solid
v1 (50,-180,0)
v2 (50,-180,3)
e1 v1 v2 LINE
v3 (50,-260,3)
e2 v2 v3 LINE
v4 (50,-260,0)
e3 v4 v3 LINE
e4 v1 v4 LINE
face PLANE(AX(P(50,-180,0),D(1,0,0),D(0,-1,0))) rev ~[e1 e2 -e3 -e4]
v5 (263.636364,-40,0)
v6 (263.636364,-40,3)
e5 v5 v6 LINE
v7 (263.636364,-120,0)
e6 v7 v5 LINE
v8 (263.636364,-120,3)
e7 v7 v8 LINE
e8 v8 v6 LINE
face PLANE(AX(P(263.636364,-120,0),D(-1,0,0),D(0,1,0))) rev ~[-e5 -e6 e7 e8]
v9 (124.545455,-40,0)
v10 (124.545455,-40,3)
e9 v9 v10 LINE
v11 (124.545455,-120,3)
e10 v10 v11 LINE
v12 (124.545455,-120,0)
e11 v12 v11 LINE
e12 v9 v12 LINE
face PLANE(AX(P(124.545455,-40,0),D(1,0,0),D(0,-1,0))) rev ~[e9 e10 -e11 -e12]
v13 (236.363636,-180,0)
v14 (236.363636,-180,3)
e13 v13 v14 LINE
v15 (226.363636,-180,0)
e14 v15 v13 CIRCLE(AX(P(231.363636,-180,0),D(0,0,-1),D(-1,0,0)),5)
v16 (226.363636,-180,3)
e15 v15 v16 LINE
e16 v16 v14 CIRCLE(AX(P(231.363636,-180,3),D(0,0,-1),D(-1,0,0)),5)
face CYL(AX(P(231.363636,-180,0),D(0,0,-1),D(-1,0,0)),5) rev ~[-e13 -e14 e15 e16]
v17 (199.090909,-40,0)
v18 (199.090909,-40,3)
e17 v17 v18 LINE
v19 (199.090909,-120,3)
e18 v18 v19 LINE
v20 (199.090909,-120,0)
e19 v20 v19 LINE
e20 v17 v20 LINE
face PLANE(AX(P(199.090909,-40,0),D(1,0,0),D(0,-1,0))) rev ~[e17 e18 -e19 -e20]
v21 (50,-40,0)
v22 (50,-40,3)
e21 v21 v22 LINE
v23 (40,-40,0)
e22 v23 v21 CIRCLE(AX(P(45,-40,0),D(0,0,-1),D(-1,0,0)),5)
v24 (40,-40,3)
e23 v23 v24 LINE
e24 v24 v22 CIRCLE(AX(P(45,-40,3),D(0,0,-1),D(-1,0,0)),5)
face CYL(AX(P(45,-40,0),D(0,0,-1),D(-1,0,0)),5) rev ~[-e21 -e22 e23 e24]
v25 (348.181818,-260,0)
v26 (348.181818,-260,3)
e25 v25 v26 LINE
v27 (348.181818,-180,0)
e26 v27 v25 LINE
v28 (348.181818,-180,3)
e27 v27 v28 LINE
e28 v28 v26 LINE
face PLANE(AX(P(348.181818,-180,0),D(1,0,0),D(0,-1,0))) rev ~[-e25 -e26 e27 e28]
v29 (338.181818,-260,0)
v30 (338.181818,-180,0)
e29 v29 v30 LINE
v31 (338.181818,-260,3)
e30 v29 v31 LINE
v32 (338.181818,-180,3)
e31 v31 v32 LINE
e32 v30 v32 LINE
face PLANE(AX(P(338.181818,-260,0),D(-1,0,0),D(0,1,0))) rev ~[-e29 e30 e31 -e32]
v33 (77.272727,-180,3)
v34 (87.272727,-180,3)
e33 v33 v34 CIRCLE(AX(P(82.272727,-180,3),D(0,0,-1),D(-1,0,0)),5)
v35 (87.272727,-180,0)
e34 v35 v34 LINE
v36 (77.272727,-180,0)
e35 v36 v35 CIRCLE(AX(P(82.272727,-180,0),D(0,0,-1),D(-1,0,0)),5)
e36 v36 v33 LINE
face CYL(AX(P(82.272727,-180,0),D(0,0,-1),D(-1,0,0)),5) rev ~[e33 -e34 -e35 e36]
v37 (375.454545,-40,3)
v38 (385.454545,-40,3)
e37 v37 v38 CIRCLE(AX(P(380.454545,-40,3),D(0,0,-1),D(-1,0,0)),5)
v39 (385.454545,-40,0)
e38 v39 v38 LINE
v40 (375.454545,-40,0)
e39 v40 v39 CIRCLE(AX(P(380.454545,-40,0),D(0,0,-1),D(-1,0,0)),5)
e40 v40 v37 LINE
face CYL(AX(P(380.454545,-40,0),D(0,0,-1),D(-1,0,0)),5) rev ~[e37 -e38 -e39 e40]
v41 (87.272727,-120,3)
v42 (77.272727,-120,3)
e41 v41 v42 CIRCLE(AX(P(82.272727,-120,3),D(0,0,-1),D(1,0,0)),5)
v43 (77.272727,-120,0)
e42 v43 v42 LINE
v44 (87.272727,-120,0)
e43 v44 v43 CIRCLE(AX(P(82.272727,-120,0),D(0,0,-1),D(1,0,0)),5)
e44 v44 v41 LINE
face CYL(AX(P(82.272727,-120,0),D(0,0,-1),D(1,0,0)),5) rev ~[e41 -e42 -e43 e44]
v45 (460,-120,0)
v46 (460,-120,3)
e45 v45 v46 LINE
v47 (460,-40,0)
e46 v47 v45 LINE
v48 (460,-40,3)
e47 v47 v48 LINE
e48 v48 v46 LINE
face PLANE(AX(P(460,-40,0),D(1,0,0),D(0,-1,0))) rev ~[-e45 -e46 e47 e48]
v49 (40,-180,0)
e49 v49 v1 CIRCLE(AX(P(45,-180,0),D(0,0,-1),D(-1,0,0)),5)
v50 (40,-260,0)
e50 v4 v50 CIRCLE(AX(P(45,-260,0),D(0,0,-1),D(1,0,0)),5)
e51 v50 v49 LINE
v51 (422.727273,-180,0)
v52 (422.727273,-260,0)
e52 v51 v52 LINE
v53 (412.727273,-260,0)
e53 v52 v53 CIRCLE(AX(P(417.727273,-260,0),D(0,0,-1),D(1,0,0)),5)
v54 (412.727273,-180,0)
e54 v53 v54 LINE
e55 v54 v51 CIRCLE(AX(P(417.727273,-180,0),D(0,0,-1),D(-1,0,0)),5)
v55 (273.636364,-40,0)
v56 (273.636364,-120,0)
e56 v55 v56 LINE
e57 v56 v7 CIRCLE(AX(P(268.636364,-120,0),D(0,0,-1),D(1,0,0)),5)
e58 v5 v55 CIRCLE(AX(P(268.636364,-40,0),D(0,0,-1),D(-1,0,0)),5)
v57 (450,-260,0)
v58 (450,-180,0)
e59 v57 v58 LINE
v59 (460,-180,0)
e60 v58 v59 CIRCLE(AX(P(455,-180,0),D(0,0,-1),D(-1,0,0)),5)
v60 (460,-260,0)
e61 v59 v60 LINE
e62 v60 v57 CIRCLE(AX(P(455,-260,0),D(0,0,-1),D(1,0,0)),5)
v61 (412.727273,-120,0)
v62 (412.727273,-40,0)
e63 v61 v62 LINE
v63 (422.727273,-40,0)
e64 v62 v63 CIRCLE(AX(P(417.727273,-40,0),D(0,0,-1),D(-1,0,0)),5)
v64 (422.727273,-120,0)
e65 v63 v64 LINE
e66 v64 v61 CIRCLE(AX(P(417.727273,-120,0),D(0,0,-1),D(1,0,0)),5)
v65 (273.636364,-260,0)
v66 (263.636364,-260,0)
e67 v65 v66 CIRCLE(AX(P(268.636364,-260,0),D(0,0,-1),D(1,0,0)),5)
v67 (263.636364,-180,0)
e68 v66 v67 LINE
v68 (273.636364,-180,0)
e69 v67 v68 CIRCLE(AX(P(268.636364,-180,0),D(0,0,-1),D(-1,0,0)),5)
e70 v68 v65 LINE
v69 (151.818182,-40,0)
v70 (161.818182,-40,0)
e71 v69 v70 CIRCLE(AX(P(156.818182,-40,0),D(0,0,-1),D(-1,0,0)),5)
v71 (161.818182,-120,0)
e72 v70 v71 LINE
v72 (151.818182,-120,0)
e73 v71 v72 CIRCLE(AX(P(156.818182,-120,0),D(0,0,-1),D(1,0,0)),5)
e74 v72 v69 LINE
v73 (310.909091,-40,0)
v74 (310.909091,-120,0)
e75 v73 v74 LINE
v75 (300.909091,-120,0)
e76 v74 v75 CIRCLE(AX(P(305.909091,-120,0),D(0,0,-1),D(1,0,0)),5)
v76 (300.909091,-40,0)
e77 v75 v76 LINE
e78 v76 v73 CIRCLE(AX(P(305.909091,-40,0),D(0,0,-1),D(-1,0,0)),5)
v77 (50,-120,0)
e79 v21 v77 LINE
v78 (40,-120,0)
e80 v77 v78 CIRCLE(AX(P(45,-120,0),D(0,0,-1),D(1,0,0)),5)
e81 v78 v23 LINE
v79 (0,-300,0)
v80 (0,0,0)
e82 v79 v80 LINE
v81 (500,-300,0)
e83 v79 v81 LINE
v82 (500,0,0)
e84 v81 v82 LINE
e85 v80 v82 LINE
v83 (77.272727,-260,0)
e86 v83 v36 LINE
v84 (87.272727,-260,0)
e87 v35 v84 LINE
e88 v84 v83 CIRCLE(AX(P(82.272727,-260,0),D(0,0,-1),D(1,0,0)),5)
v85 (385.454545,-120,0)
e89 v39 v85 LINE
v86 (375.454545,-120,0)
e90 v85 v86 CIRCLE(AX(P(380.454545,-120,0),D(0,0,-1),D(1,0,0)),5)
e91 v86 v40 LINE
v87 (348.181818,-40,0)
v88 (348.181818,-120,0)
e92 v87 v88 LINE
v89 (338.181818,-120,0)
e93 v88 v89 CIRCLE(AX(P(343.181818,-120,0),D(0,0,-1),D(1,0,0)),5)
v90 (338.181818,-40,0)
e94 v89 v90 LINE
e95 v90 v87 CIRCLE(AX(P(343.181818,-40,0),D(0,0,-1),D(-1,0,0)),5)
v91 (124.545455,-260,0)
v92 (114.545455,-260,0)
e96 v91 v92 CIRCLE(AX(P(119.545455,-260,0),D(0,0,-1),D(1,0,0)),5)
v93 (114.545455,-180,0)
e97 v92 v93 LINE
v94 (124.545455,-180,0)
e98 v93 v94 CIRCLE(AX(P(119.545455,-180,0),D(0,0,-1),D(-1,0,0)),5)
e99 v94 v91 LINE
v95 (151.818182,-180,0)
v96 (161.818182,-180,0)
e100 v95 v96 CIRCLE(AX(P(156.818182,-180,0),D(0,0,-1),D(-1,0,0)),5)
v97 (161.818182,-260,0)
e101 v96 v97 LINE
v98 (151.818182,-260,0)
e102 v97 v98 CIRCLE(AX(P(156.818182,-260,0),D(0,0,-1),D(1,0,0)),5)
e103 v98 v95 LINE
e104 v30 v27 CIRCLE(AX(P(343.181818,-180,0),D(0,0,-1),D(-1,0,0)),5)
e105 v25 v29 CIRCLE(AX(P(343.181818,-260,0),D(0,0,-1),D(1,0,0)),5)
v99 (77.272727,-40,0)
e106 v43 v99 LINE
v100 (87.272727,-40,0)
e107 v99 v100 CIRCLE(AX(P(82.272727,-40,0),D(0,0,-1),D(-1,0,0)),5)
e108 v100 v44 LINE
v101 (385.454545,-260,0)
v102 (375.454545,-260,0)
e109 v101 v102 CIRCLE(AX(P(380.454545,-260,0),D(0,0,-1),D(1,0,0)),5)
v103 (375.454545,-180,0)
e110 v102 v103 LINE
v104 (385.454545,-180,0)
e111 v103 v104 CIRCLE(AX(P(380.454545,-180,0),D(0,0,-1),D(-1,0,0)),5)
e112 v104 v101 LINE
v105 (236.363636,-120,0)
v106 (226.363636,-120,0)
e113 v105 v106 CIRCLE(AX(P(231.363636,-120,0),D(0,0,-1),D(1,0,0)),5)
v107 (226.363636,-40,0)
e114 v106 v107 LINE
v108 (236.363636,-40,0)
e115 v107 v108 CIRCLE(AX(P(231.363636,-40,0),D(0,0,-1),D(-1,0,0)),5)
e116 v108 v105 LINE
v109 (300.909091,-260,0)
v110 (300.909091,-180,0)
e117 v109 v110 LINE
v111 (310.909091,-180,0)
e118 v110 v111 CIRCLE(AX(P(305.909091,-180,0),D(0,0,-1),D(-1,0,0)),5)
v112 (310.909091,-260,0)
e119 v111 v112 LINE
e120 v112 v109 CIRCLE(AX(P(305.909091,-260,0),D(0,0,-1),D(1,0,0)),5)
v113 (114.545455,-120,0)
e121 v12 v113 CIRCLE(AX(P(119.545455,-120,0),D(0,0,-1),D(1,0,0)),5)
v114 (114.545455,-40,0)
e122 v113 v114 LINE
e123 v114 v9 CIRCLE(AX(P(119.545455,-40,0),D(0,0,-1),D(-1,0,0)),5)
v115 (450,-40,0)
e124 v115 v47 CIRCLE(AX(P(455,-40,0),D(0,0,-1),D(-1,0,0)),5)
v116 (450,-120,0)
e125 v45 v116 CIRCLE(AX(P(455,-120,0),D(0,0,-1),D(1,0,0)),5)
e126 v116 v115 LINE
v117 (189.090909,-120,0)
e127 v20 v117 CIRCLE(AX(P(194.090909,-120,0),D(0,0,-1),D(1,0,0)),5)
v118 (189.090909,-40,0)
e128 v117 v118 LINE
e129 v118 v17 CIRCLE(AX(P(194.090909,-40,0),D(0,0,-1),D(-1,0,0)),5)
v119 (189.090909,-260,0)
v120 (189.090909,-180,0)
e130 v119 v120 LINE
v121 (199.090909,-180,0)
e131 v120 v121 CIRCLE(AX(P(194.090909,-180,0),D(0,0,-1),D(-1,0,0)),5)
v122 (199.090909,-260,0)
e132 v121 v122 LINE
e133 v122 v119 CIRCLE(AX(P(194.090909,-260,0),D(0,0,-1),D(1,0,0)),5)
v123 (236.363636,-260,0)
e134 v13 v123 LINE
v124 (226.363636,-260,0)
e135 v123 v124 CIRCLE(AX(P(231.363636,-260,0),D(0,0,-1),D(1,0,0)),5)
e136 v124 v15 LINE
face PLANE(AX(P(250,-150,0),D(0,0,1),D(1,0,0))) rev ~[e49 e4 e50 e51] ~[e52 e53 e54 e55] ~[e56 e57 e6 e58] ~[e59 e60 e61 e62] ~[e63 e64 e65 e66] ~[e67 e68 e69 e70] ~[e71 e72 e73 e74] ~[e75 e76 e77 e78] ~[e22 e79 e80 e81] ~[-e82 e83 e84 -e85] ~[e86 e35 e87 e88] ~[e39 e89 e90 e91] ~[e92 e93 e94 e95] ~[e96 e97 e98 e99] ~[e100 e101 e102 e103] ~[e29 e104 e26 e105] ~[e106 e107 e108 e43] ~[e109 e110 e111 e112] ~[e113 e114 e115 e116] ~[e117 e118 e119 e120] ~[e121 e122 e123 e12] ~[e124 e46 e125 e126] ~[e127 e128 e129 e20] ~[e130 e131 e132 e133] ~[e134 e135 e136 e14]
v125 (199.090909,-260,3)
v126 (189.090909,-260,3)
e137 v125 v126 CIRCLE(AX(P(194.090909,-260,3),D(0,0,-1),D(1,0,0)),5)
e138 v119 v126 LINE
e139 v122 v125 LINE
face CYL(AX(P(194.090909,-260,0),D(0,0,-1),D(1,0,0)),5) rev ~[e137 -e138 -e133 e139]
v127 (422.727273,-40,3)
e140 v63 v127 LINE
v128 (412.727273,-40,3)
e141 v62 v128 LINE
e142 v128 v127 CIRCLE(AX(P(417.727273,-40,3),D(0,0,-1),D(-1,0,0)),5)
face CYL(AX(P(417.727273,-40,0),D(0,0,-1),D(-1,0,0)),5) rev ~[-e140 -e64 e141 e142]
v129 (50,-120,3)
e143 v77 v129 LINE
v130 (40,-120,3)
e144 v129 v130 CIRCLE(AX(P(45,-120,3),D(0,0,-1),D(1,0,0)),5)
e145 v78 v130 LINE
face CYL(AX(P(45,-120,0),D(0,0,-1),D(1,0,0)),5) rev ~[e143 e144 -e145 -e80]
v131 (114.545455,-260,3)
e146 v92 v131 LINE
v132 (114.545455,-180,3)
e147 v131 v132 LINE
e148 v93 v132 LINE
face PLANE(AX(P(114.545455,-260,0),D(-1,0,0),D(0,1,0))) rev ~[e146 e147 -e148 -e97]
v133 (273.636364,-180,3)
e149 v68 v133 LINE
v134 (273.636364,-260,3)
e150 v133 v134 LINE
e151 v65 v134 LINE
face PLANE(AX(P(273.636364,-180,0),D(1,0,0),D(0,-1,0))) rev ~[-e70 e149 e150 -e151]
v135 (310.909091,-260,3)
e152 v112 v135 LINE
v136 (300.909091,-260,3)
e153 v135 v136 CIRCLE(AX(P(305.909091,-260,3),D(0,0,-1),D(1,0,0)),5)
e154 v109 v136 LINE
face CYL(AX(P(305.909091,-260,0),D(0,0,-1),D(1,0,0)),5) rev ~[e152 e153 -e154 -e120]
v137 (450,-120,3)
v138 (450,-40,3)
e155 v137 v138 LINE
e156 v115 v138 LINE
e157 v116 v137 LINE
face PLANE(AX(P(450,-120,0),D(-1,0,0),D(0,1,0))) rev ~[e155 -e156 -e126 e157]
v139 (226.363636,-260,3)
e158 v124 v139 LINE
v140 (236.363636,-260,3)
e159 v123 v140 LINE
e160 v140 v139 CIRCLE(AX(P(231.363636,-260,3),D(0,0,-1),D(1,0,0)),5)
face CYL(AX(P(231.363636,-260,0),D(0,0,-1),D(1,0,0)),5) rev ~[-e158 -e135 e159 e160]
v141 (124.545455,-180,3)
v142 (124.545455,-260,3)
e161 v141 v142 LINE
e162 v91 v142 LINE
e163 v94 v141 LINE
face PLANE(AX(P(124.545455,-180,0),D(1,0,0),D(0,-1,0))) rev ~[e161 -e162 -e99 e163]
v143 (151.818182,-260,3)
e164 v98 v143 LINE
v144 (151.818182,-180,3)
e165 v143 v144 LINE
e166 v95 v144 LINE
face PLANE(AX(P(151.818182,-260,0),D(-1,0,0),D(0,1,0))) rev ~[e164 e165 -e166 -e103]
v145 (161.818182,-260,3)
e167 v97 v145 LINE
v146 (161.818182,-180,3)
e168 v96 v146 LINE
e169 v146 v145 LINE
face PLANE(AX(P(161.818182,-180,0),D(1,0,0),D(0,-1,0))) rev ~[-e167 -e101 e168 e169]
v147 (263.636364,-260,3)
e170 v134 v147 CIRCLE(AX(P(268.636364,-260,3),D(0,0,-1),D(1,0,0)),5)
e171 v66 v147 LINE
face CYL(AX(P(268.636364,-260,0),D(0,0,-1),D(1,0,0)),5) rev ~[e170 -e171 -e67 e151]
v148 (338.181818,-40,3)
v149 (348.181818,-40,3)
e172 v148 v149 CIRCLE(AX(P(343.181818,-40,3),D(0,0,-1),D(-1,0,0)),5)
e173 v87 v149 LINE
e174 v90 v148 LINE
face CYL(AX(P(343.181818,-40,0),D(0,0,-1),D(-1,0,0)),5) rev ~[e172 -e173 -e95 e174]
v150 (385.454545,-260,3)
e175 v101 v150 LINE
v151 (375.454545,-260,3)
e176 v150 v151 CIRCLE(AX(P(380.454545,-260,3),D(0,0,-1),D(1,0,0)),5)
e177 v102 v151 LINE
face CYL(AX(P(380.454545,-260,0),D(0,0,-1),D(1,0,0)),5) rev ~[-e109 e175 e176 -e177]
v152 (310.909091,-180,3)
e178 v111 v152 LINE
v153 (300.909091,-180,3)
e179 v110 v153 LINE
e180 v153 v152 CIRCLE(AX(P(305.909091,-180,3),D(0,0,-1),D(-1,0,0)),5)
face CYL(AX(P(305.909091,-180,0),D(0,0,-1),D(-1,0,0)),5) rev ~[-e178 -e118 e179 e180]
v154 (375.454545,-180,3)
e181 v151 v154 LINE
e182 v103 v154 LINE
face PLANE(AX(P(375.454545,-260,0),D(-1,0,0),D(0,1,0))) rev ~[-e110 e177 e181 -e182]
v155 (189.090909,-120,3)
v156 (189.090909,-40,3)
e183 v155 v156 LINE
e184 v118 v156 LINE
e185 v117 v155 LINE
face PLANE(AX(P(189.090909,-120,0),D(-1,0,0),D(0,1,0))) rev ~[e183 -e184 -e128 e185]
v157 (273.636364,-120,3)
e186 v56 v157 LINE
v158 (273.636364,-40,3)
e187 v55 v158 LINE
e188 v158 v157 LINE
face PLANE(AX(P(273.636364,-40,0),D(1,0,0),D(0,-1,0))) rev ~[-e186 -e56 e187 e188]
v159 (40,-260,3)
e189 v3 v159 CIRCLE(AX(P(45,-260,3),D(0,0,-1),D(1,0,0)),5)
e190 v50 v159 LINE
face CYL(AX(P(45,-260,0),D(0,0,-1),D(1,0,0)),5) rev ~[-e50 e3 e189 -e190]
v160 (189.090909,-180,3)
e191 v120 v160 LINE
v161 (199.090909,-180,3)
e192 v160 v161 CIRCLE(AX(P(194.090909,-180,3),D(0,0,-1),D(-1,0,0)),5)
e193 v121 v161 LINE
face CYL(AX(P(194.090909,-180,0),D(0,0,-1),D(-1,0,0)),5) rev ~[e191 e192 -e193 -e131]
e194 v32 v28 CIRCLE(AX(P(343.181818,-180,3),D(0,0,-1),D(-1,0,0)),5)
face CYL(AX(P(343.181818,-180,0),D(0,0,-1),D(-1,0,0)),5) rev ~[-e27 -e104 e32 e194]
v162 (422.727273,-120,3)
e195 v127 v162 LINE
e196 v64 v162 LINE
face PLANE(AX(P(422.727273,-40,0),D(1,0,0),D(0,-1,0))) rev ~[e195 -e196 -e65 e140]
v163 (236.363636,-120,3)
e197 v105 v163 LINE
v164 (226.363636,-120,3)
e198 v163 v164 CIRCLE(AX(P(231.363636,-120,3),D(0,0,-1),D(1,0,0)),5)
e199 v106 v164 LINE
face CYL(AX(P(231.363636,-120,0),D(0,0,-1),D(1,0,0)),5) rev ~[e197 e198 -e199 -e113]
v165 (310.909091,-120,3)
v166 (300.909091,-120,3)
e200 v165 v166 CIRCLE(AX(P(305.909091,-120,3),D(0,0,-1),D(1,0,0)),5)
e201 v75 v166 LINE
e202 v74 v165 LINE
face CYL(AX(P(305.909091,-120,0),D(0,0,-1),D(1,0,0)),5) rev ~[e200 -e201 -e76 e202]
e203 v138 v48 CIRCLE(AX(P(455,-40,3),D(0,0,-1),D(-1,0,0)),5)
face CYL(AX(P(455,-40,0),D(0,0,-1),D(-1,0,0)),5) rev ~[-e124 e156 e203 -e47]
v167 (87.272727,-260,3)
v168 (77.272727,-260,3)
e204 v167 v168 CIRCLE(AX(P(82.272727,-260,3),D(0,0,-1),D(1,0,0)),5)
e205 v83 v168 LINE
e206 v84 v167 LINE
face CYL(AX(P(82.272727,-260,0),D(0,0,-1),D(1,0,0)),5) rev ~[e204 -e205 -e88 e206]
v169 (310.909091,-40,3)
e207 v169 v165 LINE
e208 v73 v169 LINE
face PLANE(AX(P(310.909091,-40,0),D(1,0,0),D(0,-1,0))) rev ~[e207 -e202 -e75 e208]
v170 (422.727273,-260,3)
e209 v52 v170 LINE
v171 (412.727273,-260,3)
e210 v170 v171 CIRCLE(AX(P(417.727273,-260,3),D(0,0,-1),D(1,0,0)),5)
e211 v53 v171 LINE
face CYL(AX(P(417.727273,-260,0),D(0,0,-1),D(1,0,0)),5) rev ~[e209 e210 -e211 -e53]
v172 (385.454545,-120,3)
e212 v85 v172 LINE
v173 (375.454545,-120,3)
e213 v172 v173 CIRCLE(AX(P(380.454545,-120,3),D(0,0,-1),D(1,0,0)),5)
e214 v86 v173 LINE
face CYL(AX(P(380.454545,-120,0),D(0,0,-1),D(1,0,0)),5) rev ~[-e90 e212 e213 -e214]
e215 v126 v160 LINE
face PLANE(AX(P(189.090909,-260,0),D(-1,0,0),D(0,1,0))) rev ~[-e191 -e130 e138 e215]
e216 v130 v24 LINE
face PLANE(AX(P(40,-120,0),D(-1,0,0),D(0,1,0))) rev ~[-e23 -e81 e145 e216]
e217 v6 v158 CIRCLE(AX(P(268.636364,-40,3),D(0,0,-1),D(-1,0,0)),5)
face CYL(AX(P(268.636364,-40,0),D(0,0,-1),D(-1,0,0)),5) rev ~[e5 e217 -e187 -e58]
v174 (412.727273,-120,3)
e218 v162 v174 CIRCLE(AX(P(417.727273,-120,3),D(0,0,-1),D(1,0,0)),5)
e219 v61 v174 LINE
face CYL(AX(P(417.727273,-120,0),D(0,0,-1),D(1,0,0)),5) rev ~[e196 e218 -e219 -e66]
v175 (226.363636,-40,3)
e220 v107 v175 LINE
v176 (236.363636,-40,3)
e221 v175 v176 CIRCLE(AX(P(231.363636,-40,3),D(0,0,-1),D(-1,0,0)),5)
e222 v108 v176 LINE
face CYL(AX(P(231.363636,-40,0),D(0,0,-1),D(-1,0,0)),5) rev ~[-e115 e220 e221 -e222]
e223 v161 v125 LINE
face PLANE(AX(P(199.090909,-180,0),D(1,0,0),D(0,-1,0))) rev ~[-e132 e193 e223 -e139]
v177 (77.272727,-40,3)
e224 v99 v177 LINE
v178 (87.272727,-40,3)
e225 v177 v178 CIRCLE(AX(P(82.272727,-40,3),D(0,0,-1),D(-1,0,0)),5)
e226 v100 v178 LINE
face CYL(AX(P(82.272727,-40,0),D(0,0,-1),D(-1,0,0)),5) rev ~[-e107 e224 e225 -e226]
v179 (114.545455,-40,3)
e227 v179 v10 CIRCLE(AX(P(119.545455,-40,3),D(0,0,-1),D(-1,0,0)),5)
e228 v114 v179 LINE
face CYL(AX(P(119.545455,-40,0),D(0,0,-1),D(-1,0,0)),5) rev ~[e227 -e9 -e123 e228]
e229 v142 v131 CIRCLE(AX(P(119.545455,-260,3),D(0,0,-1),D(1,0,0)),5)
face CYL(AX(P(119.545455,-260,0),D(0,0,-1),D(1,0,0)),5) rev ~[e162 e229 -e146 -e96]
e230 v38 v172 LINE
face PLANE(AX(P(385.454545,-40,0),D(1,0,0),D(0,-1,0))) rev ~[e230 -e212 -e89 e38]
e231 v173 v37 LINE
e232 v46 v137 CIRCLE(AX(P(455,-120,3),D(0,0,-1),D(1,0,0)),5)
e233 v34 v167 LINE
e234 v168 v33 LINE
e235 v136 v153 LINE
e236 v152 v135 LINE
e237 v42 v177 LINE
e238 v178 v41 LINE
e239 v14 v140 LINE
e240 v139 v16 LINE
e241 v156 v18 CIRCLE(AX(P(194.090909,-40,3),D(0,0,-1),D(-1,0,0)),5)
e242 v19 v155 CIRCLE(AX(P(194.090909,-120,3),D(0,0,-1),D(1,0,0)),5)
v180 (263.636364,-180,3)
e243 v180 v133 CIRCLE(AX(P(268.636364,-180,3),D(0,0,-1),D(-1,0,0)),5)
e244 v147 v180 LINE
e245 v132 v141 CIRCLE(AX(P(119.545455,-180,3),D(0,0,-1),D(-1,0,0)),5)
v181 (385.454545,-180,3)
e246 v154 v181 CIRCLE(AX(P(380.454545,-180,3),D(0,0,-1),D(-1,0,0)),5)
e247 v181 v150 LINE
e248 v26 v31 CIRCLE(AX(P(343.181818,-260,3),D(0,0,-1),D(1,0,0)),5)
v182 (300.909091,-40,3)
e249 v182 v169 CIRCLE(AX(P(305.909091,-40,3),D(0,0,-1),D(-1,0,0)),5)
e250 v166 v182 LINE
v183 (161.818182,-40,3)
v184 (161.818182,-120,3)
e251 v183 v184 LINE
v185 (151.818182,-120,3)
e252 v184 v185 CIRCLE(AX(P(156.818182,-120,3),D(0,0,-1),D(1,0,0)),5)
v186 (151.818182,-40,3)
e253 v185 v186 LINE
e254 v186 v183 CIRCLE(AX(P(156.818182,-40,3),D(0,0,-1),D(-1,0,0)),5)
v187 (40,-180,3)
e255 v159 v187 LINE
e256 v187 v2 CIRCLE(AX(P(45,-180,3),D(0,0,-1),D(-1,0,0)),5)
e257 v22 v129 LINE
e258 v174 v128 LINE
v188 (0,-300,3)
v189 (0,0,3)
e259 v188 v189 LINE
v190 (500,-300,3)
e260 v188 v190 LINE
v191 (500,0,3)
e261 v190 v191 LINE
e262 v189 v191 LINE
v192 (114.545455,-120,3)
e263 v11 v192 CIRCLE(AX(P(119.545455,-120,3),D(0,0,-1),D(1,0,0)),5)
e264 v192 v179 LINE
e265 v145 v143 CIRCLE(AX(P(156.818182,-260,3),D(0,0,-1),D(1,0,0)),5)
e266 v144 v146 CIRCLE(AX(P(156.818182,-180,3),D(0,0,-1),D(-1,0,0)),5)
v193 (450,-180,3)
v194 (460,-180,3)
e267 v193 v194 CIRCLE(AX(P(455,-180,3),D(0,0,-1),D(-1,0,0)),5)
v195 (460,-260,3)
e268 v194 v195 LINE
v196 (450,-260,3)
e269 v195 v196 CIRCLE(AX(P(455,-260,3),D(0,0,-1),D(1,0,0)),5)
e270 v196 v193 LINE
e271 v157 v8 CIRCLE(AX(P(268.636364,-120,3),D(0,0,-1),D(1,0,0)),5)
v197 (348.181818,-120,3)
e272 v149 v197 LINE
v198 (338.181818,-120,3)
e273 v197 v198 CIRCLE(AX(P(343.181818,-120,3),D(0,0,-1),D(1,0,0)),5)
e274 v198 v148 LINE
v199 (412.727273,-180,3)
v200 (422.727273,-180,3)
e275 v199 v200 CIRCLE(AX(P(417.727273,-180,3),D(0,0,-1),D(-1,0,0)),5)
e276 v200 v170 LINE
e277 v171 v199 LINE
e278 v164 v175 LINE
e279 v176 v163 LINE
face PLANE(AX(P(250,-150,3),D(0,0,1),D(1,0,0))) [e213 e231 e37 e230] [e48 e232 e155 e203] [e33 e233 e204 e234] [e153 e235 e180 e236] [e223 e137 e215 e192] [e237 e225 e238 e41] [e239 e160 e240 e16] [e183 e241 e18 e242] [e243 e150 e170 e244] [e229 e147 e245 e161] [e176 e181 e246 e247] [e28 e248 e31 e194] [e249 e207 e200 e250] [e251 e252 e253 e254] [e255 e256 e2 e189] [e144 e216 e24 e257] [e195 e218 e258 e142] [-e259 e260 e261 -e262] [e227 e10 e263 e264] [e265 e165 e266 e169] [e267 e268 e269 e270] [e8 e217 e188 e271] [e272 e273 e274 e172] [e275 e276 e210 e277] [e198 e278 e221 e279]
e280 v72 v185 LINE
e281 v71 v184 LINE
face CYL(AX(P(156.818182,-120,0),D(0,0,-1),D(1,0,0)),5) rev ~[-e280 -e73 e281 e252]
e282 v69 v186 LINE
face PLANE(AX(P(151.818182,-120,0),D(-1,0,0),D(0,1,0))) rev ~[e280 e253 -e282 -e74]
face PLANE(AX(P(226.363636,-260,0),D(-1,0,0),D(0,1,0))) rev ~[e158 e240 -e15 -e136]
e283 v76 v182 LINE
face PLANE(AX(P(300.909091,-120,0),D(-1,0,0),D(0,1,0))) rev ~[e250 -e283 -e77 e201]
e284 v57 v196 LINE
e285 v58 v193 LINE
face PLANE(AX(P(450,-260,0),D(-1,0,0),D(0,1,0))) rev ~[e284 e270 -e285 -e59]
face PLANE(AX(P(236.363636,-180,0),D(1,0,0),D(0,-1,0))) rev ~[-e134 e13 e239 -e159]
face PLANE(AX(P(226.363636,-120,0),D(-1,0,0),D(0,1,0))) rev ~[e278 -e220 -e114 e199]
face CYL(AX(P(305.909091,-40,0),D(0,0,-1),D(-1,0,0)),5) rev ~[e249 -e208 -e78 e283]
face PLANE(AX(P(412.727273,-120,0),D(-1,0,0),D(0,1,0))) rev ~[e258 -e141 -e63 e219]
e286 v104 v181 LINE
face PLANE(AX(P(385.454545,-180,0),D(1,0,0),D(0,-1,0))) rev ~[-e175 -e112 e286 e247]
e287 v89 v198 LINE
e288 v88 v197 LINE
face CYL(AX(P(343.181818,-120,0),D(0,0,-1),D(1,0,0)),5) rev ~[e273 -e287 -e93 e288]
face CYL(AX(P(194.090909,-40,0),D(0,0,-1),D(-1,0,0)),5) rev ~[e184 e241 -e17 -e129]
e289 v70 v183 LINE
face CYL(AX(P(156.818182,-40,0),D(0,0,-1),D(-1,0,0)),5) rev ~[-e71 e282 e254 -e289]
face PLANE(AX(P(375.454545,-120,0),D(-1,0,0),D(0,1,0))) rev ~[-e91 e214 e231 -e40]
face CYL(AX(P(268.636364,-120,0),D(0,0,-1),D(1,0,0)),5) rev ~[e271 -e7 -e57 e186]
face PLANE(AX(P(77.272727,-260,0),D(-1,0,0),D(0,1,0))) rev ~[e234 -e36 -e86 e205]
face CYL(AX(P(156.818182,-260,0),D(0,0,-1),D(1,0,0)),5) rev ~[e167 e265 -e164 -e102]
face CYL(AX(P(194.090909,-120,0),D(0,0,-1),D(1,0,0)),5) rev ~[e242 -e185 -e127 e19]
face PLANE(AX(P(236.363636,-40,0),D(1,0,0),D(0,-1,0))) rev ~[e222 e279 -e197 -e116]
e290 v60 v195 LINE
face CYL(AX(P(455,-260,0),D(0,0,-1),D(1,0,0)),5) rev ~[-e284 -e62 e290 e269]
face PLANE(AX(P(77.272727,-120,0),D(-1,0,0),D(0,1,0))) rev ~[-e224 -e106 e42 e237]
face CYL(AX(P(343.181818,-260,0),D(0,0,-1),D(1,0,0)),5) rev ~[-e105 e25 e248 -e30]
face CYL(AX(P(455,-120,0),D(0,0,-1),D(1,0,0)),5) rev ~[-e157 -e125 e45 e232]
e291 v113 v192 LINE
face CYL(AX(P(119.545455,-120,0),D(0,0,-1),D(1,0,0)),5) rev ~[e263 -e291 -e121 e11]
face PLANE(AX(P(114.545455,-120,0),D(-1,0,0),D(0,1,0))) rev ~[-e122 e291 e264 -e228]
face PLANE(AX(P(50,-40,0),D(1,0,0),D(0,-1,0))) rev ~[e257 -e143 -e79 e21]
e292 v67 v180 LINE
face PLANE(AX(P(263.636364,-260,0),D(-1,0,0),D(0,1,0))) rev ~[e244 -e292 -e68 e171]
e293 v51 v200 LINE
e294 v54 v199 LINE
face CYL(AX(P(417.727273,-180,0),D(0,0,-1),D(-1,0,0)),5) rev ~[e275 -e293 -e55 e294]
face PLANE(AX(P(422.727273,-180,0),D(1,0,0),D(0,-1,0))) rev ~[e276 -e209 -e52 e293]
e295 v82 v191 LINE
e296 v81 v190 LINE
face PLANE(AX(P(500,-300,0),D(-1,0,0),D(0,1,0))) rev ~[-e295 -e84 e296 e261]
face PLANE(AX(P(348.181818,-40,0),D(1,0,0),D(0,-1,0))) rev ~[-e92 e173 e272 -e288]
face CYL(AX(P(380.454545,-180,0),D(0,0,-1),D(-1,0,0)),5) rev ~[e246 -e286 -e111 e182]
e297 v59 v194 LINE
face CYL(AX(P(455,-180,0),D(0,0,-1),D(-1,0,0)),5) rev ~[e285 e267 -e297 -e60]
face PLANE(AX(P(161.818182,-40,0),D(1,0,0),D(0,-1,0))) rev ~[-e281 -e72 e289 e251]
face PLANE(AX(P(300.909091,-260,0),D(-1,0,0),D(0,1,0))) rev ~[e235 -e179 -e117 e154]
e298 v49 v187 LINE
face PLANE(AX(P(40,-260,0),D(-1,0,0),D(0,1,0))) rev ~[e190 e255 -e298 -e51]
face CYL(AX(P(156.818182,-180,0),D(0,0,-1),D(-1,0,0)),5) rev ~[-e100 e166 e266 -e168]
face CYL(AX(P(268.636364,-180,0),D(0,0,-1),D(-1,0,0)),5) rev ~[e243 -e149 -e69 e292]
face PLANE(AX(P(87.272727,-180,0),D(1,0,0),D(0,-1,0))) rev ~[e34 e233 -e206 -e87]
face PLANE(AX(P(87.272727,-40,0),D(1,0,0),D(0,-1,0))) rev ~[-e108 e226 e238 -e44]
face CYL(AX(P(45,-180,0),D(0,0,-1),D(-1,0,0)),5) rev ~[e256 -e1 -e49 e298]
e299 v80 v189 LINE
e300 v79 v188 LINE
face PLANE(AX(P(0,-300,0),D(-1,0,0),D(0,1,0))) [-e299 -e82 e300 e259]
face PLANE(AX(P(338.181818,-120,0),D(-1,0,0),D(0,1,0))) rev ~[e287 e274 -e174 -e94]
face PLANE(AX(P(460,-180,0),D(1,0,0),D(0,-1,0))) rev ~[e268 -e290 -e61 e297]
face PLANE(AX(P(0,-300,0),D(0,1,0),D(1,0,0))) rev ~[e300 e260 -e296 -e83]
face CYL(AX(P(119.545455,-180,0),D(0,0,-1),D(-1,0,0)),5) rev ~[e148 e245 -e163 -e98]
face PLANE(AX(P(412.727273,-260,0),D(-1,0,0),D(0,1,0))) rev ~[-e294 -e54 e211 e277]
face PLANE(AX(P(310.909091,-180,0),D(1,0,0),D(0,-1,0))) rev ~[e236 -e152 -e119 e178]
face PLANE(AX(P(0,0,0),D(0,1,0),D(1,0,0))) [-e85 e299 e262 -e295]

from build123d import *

# Parameters (mm, degrees)
IZIM1_W                     = 500
IZIM1_H                     = 300
Y_KSEKLIK_EKSTR_ZYON1_DEPTH = 3


with BuildPart() as part:
    # Çizim1 → Yükseklik-Ekstrüzyon1 (new body)
    with BuildSketch(Plane.XY):
        with Locations((250, -150)):
            Rectangle(IZIM1_W, IZIM1_H)
        with BuildLine():
            Line((50, -40), (50, -120))
            ThreePointArc((50, -120), (45, -125), (40, -120))
            Line((40, -120), (40, -40))
            ThreePointArc((40, -40), (45, -35), (50, -40))
        make_face(mode=Mode.SUBTRACT)
        with BuildLine():
            Line((87.272727273, -40), (87.272727273, -120))
            ThreePointArc((87.272727273, -120), (82.272727273, -125), (77.272727273, -120))
            Line((77.272727273, -120), (77.272727273, -40))
            ThreePointArc((77.272727273, -40), (82.272727273, -35), (87.272727273, -40))
        make_face(mode=Mode.SUBTRACT)
        with BuildLine():
            Line((124.545454545, -40), (124.545454545, -120))
            ThreePointArc((124.545454545, -120), (119.545454545, -125), (114.545454545, -120))
            Line((114.545454545, -120), (114.545454545, -40))
            ThreePointArc((114.545454545, -40), (119.545454545, -35), (124.545454545, -40))
        make_face(mode=Mode.SUBTRACT)
        with BuildLine():
            Line((161.818181818, -40), (161.818181818, -120))
            ThreePointArc((161.818181818, -120), (156.818181818, -125), (151.818181818, -120))
            Line((151.818181818, -120), (151.818181818, -40))
            ThreePointArc((151.818181818, -40), (156.818181818, -35), (161.818181818, -40))
        make_face(mode=Mode.SUBTRACT)
        with BuildLine():
            Line((199.090909091, -40), (199.090909091, -120))
            ThreePointArc((199.090909091, -120), (194.090909091, -125), (189.090909091, -120))
            Line((189.090909091, -120), (189.090909091, -40))
            ThreePointArc((189.090909091, -40), (194.090909091, -35), (199.090909091, -40))
        make_face(mode=Mode.SUBTRACT)
        with BuildLine():
            Line((236.363636364, -40), (236.363636364, -120))
            ThreePointArc((236.363636364, -120), (231.363636364, -125), (226.363636364, -120))
            Line((226.363636364, -120), (226.363636364, -40))
            ThreePointArc((226.363636364, -40), (231.363636364, -35), (236.363636364, -40))
        make_face(mode=Mode.SUBTRACT)
        with BuildLine():
            Line((273.636363636, -40), (273.636363636, -120))
            ThreePointArc((273.636363636, -120), (268.636363636, -125), (263.636363636, -120))
            Line((263.636363636, -120), (263.636363636, -40))
            ThreePointArc((263.636363636, -40), (268.636363636, -35), (273.636363636, -40))
        make_face(mode=Mode.SUBTRACT)
        with BuildLine():
            Line((310.909090909, -40), (310.909090909, -120))
            ThreePointArc((310.909090909, -120), (305.909090909, -125), (300.909090909, -120))
            Line((300.909090909, -120), (300.909090909, -40))
            ThreePointArc((300.909090909, -40), (305.909090909, -35), (310.909090909, -40))
        make_face(mode=Mode.SUBTRACT)
        with BuildLine():
            Line((348.181818182, -40), (348.181818182, -120))
            ThreePointArc((348.181818182, -120), (343.181818182, -125), (338.181818182, -120))
            Line((338.181818182, -120), (338.181818182, -40))
            ThreePointArc((338.181818182, -40), (343.181818182, -35), (348.181818182, -40))
        make_face(mode=Mode.SUBTRACT)
        with BuildLine():
            Line((385.454545455, -40), (385.454545455, -120))
            ThreePointArc((385.454545455, -120), (380.454545455, -125), (375.454545455, -120))
            Line((375.454545455, -120), (375.454545455, -40))
            ThreePointArc((375.454545455, -40), (380.454545455, -35), (385.454545455, -40))
        make_face(mode=Mode.SUBTRACT)
        with BuildLine():
            Line((422.727272727, -40), (422.727272727, -120))
            ThreePointArc((422.727272727, -120), (417.727272727, -125), (412.727272727, -120))
            Line((412.727272727, -120), (412.727272727, -40))
            ThreePointArc((412.727272727, -40), (417.727272727, -35), (422.727272727, -40))
        make_face(mode=Mode.SUBTRACT)
        with BuildLine():
            Line((460, -40), (460, -120))
            ThreePointArc((460, -120), (455, -125), (450, -120))
            Line((450, -120), (450, -40))
            ThreePointArc((450, -40), (455, -35), (460, -40))
        make_face(mode=Mode.SUBTRACT)
        with BuildLine():
            Line((87.272727273, -180), (87.272727273, -260))
            ThreePointArc((87.272727273, -260), (82.272727273, -265), (77.272727273, -260))
            Line((77.272727273, -260), (77.272727273, -180))
            ThreePointArc((77.272727273, -180), (82.272727273, -175), (87.272727273, -180))
        make_face(mode=Mode.SUBTRACT)
        with BuildLine():
            Line((124.545454545, -180), (124.545454545, -260))
            ThreePointArc((124.545454545, -260), (119.545454545, -265), (114.545454545, -260))
            Line((114.545454545, -260), (114.545454545, -180))
            ThreePointArc((114.545454545, -180), (119.545454545, -175), (124.545454545, -180))
        make_face(mode=Mode.SUBTRACT)
        with BuildLine():
            Line((161.818181818, -180), (161.818181818, -260))
            ThreePointArc((161.818181818, -260), (156.818181818, -265), (151.818181818, -260))
            Line((151.818181818, -260), (151.818181818, -180))
            ThreePointArc((151.818181818, -180), (156.818181818, -175), (161.818181818, -180))
        make_face(mode=Mode.SUBTRACT)
        with BuildLine():
            Line((199.090909091, -180), (199.090909091, -260))
            ThreePointArc((199.090909091, -260), (194.090909091, -265), (189.090909091, -260))
            Line((189.090909091, -260), (189.090909091, -180))
            ThreePointArc((189.090909091, -180), (194.090909091, -175), (199.090909091, -180))
        make_face(mode=Mode.SUBTRACT)
        with BuildLine():
            Line((236.363636364, -180), (236.363636364, -260))
            ThreePointArc((236.363636364, -260), (231.363636364, -265), (226.363636364, -260))
            Line((226.363636364, -260), (226.363636364, -180))
            ThreePointArc((226.363636364, -180), (231.363636364, -175), (236.363636364, -180))
        make_face(mode=Mode.SUBTRACT)
        with BuildLine():
            Line((273.636363636, -180), (273.636363636, -260))
            ThreePointArc((273.636363636, -260), (268.636363636, -265), (263.636363636, -260))
            Line((263.636363636, -260), (263.636363636, -180))
            ThreePointArc((263.636363636, -180), (268.636363636, -175), (273.636363636, -180))
        make_face(mode=Mode.SUBTRACT)
        with BuildLine():
            Line((310.909090909, -180), (310.909090909, -260))
            ThreePointArc((310.909090909, -260), (305.909090909, -265), (300.909090909, -260))
            Line((300.909090909, -260), (300.909090909, -180))
            ThreePointArc((300.909090909, -180), (305.909090909, -175), (310.909090909, -180))
        make_face(mode=Mode.SUBTRACT)
        with BuildLine():
            Line((348.181818182, -180), (348.181818182, -260))
            ThreePointArc((348.181818182, -260), (343.181818182, -265), (338.181818182, -260))
            Line((338.181818182, -260), (338.181818182, -180))
            ThreePointArc((338.181818182, -180), (343.181818182, -175), (348.181818182, -180))
        make_face(mode=Mode.SUBTRACT)
        with BuildLine():
            Line((385.454545455, -180), (385.454545455, -260))
            ThreePointArc((385.454545455, -260), (380.454545455, -265), (375.454545455, -260))
            Line((375.454545455, -260), (375.454545455, -180))
            ThreePointArc((375.454545455, -180), (380.454545455, -175), (385.454545455, -180))
        make_face(mode=Mode.SUBTRACT)
        with BuildLine():
            Line((422.727272727, -180), (422.727272727, -260))
            ThreePointArc((422.727272727, -260), (417.727272727, -265), (412.727272727, -260))
            Line((412.727272727, -260), (412.727272727, -180))
            ThreePointArc((412.727272727, -180), (417.727272727, -175), (422.727272727, -180))
        make_face(mode=Mode.SUBTRACT)
        with BuildLine():
            Line((460, -180), (460, -260))
            ThreePointArc((460, -260), (455, -265), (450, -260))
            Line((450, -260), (450, -180))
            ThreePointArc((450, -180), (455, -175), (460, -180))
        make_face(mode=Mode.SUBTRACT)
        with BuildLine():
            Line((50, -180), (50, -260))
            ThreePointArc((50, -260), (45, -265), (40, -260))
            Line((40, -260), (40, -180))
            ThreePointArc((40, -180), (45, -175), (50, -180))
        make_face(mode=Mode.SUBTRACT)
    extrude(amount=Y_KSEKLIK_EKSTR_ZYON1_DEPTH)


solid = part.part
